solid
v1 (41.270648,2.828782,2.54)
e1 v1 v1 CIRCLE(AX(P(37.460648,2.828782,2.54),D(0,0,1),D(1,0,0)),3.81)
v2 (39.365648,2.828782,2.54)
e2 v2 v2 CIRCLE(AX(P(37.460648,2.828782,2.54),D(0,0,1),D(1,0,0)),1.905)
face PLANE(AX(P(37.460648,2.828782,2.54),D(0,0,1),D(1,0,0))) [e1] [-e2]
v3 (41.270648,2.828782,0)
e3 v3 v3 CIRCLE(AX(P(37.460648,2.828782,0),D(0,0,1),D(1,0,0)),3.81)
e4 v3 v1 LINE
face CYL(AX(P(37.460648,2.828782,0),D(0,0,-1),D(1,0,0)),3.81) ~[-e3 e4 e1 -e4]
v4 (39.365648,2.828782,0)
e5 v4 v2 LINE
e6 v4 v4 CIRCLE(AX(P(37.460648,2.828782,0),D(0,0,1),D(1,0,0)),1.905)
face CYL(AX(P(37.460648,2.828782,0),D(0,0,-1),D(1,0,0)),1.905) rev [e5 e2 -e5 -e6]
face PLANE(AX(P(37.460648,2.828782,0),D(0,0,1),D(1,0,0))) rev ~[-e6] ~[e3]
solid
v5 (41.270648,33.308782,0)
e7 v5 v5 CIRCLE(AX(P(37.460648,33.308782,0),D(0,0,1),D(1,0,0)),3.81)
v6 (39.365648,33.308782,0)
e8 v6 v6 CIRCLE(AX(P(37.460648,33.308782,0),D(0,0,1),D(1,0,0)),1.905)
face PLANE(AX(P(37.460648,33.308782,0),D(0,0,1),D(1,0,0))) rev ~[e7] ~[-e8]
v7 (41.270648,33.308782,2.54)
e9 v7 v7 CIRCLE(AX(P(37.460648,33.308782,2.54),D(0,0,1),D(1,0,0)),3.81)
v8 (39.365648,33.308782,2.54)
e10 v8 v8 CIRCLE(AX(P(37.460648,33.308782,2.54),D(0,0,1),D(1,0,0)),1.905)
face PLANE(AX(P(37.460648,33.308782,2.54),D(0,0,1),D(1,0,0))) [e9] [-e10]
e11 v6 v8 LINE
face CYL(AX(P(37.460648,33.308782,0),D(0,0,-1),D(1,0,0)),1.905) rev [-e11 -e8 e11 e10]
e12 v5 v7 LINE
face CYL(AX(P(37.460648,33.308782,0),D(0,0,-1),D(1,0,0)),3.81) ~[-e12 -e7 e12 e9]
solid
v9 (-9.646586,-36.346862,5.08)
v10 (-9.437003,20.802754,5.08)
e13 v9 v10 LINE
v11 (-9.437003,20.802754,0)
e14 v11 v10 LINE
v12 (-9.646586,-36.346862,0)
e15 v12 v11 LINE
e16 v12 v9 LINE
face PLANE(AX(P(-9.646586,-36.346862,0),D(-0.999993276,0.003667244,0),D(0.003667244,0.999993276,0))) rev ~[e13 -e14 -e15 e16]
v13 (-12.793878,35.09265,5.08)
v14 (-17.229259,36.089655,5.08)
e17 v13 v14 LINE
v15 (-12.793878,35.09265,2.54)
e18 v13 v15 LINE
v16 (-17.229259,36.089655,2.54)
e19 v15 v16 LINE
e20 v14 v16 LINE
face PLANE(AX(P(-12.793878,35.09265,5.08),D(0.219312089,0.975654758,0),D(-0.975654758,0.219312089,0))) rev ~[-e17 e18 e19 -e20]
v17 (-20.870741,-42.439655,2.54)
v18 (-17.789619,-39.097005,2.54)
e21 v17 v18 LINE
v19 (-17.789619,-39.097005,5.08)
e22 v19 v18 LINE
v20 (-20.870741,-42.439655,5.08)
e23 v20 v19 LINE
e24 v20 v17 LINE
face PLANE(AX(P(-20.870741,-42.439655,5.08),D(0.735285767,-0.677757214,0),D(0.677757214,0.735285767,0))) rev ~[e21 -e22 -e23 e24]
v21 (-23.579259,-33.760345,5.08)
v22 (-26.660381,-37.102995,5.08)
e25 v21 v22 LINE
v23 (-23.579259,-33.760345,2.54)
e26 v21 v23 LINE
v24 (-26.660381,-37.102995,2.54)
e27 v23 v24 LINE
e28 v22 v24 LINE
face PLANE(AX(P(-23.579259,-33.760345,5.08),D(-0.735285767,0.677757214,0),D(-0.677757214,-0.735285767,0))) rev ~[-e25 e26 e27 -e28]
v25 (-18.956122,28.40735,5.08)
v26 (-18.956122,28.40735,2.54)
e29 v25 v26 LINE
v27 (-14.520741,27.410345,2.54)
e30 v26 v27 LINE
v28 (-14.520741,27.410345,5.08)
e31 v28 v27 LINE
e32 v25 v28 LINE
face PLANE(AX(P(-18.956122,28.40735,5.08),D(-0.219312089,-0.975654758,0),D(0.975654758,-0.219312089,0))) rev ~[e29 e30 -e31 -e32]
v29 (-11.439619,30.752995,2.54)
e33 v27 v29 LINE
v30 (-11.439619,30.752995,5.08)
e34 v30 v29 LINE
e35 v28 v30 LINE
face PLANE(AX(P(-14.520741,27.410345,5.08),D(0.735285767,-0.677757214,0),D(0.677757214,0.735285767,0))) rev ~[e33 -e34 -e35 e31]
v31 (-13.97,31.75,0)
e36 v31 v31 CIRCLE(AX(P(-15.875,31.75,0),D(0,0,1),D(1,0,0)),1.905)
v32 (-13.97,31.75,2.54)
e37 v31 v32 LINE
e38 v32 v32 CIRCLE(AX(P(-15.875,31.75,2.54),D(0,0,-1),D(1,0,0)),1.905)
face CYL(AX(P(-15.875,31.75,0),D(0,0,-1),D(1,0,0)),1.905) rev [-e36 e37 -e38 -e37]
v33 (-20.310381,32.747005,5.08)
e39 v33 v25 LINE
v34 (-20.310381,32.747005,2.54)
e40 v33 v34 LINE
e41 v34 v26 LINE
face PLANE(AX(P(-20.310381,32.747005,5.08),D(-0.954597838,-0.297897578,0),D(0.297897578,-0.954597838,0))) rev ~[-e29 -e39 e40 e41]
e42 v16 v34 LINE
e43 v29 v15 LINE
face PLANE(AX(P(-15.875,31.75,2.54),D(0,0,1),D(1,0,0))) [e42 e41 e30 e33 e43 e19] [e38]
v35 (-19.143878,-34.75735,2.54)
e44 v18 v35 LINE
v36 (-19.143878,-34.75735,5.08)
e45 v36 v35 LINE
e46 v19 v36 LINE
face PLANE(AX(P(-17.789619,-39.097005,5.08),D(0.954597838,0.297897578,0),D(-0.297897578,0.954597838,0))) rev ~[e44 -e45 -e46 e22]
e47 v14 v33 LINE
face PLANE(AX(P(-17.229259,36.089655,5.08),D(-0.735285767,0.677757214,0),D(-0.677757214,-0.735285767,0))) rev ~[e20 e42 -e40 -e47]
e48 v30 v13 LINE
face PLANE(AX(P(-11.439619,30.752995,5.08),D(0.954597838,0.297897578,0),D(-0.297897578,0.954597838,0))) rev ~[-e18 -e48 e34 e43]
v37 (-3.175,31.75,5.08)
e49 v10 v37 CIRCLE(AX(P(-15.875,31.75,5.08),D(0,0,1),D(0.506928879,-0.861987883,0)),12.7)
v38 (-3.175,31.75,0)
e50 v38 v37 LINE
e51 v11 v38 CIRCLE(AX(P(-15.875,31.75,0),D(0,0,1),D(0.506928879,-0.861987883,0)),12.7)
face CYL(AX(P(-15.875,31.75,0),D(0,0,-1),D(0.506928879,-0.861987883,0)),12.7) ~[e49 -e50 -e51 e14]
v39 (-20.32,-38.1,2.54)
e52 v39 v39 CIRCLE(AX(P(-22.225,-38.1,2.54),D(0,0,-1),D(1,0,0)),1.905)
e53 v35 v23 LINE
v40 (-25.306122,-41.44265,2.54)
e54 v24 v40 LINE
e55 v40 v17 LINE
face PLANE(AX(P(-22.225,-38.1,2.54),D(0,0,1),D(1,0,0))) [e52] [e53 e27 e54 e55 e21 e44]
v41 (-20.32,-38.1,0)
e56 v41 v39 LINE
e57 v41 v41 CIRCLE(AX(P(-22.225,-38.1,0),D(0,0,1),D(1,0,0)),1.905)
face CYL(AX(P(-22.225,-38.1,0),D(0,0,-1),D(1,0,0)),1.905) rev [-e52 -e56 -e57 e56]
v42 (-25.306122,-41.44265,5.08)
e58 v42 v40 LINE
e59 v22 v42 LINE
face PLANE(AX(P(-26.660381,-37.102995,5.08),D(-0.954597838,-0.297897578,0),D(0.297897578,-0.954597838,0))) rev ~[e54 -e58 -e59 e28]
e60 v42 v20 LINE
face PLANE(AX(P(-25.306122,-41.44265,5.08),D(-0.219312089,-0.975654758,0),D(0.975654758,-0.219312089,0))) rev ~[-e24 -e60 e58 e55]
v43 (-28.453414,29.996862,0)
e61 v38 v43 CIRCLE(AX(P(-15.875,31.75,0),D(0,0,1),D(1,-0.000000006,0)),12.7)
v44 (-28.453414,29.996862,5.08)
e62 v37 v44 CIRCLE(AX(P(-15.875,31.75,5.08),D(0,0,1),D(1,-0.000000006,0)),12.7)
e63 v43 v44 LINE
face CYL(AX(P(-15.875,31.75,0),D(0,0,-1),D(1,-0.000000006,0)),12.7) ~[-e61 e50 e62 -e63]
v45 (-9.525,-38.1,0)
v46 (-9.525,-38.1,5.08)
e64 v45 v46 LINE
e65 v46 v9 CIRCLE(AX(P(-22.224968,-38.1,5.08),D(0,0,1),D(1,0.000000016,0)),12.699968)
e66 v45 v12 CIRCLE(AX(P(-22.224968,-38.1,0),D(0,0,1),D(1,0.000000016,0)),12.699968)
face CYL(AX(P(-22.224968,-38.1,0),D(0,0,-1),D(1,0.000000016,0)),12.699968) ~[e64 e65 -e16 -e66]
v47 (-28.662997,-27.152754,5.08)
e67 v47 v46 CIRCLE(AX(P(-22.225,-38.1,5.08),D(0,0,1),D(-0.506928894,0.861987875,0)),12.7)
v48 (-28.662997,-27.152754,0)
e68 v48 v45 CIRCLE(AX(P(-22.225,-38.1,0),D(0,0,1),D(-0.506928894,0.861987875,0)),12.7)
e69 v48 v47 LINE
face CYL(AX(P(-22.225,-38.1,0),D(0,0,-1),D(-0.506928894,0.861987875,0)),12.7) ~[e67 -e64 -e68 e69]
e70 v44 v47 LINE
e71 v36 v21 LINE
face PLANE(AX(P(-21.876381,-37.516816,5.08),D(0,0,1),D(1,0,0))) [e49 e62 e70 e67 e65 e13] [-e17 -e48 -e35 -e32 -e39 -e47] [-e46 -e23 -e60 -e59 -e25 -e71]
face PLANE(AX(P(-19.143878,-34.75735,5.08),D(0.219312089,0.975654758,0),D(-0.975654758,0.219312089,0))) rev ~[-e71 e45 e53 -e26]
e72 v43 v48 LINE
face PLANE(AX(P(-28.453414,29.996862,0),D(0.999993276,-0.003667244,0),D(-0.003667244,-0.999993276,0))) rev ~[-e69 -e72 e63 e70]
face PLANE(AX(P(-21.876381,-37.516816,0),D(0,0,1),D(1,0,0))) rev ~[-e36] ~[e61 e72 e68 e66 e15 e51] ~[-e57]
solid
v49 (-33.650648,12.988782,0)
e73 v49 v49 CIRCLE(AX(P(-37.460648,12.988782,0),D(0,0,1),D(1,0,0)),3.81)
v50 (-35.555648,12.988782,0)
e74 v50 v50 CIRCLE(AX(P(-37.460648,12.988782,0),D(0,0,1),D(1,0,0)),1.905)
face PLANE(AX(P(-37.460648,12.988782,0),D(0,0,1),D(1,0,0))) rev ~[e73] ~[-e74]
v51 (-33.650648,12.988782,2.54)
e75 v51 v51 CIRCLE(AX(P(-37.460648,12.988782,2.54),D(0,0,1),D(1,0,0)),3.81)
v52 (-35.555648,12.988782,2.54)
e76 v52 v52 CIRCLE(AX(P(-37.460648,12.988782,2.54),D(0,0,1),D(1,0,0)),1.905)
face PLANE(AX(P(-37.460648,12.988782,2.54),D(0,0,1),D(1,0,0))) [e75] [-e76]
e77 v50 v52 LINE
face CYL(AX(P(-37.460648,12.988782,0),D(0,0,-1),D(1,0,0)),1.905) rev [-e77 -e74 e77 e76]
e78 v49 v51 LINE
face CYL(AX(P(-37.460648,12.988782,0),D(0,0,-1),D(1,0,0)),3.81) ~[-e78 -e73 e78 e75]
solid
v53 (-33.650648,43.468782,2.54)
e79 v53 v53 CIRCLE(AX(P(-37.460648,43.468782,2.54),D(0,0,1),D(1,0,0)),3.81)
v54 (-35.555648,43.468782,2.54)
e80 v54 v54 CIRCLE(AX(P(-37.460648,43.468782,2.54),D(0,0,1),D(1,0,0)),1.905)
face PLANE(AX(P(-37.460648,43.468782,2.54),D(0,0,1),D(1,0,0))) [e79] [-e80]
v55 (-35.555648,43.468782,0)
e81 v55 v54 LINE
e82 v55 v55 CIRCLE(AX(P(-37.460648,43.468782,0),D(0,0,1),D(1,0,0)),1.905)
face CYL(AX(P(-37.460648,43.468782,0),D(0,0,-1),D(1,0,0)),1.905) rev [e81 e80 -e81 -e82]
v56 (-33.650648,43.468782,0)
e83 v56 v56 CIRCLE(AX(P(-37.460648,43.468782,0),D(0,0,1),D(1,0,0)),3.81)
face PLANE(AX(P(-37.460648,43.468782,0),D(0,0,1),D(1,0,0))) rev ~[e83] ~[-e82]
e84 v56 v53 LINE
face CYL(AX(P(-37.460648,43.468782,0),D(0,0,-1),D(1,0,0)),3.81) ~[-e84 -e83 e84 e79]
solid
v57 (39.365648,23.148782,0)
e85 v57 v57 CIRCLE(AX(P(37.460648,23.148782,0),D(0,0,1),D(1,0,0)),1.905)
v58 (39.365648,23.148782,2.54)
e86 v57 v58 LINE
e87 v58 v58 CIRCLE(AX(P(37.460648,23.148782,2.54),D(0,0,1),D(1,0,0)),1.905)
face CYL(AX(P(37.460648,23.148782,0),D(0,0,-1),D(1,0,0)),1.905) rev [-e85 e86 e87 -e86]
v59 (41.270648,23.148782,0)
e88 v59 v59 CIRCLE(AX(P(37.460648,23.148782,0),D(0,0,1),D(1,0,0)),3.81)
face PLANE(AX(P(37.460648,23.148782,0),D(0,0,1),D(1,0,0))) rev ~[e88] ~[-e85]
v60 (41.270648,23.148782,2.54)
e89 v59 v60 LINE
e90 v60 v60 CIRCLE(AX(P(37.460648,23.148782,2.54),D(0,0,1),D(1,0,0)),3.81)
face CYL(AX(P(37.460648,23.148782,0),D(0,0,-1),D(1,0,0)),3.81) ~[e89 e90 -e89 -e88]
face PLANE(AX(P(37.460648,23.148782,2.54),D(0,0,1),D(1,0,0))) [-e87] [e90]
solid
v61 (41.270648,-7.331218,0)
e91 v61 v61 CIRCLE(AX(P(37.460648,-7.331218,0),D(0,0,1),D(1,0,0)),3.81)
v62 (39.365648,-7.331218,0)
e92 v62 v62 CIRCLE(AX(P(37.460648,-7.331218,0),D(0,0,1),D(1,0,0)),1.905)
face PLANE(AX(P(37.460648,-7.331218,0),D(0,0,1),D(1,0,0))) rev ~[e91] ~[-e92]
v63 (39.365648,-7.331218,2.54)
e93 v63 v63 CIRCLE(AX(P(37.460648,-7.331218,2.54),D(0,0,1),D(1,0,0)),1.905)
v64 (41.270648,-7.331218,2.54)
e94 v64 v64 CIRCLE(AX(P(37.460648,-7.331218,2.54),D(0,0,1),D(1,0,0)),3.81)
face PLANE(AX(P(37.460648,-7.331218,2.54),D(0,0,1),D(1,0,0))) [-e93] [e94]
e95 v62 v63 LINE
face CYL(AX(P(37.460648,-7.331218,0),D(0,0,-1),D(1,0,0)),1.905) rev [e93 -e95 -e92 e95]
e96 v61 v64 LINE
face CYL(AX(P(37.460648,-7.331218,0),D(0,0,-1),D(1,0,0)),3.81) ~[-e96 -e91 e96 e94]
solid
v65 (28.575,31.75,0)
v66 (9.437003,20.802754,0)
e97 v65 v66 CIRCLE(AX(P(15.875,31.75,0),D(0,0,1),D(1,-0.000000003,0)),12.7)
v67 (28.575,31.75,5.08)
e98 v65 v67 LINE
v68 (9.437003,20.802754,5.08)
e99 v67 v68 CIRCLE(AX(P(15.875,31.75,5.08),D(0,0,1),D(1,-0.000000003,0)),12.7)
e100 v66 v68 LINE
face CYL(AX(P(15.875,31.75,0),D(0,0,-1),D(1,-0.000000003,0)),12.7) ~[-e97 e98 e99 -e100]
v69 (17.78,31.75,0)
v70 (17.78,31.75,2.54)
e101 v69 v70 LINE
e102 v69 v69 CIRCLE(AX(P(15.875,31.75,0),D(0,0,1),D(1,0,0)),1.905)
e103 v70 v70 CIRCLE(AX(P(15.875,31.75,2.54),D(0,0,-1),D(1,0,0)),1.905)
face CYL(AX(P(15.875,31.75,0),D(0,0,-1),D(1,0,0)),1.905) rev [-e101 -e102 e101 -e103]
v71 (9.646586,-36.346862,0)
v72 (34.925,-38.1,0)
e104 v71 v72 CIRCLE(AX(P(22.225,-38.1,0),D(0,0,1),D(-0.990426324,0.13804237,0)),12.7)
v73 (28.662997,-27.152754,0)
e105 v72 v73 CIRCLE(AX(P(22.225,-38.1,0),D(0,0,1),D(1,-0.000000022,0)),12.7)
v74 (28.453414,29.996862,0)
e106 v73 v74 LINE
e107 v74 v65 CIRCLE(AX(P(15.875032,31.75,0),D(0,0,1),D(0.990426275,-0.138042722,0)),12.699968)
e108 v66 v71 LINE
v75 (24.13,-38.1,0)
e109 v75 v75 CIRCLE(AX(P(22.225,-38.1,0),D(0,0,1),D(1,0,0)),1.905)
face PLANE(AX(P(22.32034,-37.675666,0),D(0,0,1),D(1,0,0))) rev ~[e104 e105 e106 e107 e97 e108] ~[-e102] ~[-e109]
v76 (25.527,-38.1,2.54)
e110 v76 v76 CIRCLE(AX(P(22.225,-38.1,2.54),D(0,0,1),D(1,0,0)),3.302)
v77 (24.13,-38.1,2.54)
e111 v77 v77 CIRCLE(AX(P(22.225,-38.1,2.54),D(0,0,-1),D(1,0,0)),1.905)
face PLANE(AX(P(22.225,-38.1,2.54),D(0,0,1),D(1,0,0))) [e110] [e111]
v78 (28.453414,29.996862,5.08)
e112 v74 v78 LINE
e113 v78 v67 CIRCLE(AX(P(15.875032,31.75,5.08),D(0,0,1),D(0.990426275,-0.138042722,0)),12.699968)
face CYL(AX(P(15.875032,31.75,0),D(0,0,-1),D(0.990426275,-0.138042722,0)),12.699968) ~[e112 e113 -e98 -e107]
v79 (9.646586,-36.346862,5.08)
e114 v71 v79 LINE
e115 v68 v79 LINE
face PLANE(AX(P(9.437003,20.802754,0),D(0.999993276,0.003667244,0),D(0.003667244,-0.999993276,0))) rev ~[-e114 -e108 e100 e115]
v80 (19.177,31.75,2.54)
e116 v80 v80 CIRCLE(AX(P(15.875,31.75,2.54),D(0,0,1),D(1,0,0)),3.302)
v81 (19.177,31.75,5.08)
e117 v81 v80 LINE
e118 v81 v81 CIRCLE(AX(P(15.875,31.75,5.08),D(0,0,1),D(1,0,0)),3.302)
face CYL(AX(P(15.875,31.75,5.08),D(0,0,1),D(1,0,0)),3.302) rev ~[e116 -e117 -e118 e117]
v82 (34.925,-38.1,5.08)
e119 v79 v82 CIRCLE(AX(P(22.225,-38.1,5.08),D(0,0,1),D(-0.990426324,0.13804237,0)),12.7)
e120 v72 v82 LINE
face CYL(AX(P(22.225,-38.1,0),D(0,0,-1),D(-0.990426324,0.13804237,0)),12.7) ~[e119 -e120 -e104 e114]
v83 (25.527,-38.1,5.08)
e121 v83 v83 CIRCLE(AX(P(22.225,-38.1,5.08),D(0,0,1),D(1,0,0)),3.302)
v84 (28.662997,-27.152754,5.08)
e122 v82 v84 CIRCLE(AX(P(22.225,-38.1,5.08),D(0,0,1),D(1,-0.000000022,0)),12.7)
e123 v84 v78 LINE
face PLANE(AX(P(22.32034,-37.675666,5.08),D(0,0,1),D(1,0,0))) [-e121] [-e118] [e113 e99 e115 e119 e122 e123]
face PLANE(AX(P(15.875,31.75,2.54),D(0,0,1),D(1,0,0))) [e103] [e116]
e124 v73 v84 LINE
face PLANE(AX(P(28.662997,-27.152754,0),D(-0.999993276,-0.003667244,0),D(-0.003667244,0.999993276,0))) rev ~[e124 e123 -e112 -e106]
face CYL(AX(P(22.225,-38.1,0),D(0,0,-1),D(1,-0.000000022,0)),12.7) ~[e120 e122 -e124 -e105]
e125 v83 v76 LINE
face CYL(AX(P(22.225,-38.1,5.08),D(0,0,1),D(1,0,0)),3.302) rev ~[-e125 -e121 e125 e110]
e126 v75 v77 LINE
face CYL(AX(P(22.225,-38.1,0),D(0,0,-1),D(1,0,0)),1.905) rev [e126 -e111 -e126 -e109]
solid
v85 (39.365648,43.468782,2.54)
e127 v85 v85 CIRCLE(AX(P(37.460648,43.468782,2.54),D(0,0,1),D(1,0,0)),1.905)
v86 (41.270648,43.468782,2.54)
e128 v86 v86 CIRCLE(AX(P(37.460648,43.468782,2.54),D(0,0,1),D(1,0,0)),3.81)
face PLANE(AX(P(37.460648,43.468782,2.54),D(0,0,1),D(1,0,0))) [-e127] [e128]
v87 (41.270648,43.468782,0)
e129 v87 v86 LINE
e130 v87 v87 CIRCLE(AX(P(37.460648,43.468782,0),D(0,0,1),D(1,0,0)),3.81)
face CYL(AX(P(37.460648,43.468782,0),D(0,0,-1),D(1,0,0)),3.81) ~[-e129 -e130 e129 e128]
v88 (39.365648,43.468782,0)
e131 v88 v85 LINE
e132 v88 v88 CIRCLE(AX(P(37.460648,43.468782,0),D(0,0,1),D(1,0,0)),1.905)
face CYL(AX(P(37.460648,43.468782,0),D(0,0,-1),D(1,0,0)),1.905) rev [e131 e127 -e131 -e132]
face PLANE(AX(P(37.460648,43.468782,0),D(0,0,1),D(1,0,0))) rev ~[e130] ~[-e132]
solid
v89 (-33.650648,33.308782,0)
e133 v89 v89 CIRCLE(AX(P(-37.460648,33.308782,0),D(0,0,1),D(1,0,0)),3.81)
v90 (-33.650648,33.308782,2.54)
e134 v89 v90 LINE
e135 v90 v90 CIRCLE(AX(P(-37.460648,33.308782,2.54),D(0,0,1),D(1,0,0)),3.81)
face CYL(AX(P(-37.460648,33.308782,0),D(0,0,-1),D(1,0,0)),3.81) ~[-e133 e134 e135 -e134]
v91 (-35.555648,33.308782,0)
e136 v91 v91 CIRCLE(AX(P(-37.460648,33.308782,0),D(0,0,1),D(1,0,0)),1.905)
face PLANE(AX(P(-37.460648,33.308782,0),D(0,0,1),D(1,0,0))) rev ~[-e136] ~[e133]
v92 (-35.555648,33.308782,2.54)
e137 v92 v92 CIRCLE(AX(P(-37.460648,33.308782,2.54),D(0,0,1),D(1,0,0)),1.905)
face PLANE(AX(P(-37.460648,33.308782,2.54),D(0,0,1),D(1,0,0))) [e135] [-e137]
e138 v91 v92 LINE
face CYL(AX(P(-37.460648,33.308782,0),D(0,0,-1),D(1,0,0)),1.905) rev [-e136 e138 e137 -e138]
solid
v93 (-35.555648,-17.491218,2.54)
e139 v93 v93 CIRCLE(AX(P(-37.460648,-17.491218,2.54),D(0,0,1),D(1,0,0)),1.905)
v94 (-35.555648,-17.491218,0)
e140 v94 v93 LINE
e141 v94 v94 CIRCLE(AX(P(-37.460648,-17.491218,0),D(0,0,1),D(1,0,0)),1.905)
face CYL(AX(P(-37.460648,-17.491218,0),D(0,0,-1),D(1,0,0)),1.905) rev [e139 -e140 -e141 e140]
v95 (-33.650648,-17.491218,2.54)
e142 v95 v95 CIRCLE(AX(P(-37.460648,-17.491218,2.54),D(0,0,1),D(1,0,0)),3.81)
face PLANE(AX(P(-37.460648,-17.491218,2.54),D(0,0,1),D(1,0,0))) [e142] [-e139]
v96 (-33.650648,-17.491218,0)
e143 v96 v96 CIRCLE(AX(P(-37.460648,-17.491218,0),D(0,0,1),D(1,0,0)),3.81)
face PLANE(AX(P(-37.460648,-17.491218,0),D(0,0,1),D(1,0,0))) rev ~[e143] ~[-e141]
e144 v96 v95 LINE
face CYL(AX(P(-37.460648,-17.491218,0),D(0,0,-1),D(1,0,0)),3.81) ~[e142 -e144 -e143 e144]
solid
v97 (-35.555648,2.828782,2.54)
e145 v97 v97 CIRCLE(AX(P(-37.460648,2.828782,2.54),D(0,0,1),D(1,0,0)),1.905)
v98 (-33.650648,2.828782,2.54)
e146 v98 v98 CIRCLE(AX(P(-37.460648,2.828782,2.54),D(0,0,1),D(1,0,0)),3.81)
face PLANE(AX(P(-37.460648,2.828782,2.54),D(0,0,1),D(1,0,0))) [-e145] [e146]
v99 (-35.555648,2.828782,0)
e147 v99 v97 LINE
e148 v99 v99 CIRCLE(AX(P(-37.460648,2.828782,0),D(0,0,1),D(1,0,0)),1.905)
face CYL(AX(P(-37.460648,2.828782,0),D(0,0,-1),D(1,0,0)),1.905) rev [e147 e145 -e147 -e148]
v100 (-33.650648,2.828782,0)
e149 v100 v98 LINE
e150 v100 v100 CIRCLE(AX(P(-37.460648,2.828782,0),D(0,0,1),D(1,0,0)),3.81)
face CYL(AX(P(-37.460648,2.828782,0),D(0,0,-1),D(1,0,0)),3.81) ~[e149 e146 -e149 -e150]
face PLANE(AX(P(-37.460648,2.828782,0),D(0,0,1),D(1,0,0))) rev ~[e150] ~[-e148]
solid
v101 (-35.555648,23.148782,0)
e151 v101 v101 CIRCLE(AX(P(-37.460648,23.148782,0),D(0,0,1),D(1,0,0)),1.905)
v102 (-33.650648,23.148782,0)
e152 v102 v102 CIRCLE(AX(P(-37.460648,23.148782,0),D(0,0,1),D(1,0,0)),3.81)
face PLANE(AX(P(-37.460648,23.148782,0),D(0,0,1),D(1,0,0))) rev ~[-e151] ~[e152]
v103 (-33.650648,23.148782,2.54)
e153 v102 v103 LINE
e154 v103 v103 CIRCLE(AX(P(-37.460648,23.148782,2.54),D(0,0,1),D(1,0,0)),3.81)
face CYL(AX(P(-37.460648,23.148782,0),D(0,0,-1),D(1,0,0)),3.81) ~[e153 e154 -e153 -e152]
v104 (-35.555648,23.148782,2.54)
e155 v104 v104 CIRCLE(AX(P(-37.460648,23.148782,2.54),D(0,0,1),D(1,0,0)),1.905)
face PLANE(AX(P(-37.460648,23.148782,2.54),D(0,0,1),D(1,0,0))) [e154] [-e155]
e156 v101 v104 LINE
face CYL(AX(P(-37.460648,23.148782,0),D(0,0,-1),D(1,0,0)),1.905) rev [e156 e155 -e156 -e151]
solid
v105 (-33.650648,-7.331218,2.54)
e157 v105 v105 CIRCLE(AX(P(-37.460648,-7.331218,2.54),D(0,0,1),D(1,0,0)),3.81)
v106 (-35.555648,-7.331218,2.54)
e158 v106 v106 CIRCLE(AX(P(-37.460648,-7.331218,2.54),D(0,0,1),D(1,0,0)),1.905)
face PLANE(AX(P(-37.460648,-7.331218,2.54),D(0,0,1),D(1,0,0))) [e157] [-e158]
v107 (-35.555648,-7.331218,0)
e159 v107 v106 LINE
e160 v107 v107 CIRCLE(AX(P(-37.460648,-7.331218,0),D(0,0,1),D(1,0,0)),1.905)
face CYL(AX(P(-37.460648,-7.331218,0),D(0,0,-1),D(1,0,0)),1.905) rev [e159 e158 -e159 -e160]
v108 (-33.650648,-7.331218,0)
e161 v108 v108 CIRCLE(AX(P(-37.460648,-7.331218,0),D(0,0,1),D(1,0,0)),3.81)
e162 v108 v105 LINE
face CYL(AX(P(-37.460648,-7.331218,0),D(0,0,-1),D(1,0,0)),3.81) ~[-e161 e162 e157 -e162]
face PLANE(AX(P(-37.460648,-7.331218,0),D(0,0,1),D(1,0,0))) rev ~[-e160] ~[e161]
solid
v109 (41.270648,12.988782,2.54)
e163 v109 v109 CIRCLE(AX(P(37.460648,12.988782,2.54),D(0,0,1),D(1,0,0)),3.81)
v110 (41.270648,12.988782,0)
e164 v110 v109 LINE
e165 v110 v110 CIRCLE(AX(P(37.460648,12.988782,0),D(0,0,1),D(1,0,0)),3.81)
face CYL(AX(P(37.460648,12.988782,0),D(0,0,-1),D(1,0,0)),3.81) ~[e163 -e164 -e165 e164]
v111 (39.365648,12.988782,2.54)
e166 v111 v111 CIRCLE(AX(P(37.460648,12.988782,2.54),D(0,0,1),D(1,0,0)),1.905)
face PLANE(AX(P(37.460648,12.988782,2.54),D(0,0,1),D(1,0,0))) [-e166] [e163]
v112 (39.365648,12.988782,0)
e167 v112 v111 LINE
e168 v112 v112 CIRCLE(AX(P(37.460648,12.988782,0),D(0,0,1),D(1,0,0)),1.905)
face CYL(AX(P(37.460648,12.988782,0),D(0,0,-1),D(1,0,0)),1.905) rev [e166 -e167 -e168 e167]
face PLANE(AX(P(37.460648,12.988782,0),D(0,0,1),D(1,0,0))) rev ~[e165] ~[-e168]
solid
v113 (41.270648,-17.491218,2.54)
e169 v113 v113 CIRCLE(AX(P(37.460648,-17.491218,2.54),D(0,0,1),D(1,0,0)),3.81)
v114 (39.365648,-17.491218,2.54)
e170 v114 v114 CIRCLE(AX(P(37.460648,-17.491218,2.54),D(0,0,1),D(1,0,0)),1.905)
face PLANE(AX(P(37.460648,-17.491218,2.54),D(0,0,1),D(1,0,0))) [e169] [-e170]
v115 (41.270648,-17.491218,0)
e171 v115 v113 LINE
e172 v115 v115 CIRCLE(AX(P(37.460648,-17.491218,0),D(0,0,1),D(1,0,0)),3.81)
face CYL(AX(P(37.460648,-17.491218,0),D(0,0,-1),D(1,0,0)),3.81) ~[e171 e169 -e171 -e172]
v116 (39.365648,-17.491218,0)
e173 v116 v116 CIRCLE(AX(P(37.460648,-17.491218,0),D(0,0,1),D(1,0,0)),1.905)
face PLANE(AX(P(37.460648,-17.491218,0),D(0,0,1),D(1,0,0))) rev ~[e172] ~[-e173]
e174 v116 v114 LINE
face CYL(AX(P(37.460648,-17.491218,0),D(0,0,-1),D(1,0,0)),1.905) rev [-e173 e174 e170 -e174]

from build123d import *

# Parameters (mm, degrees)
F0_R     = 1.905
F1_DEPTH = 5.08
F3_DEPTH = 2.54
F4_R     = 3.302
F5_DEPTH = 2.54
F6_R     = 3.81
F6_R_2   = 1.905
F7_DEPTH = 2.54


with BuildPart() as f1:
    # F0 (on Top) → F1 (new body)
    with BuildSketch(Plane.XY):
        with BuildLine():
            ThreePointArc((-28.662997, -27.152754), (-28.530848, -49.123896), (-9.525, -38.1))
            ThreePointArc((-9.525, -38.1), (-9.555433, -37.221325), (-9.646586, -36.346862))
            ThreePointArc((-9.646586, -36.346862), (-16.696972, -26.666238), (-28.662997, -27.152754))
        make_face()
        with Locations((-22.225, -38.1)):
            Circle(F0_R, mode=Mode.SUBTRACT)
        with BuildLine():
            ThreePointArc((-28.662997, -27.152754), (-16.696972, -26.666238), (-9.646586, -36.346862))
            Line((-9.646586, -36.346862), (-9.437003, 20.802754))
            ThreePointArc((-9.437003, 20.802754), (-21.403028, 20.316238), (-28.453414, 29.996862))
            Line((-28.453414, 29.996862), (-28.662997, -27.152754))
        make_face()
        with BuildLine():
            ThreePointArc((-28.453414, 29.996862), (-21.403028, 20.316238), (-9.437003, 20.802754))
            ThreePointArc((-9.437003, 20.802754), (-4.851104, 25.444152), (-3.175, 31.75))
            ThreePointArc((-3.175, 31.75), (-16.753675, 44.419567), (-28.453414, 29.996862))
        make_face()
        with Locations((-15.875, 31.75)):
            Circle(F0_R, mode=Mode.SUBTRACT)
        with BuildLine():
            ThreePointArc((9.646586, -36.346862), (21.346325, -50.769567), (34.925, -38.1))
            ThreePointArc((34.925, -38.1), (33.248896, -31.794152), (28.662997, -27.152754))
            ThreePointArc((28.662997, -27.152754), (16.696972, -26.666238), (9.646586, -36.346862))
        make_face()
        with Locations((22.225, -38.1)):
            Circle(F0_R, mode=Mode.SUBTRACT)
        with BuildLine():
            ThreePointArc((9.646586, -36.346862), (16.696972, -26.666238), (28.662997, -27.152754))
            Line((28.662997, -27.152754), (28.453414, 29.996862))
            ThreePointArc((28.453414, 29.996862), (21.403028, 20.316238), (9.437003, 20.802754))
            Line((9.437003, 20.802754), (9.646586, -36.346862))
        make_face()
        with BuildLine():
            ThreePointArc((9.437003, 20.802754), (21.403028, 20.316238), (28.453414, 29.996862))
            ThreePointArc((28.453414, 29.996862), (28.544567, 30.871325), (28.575, 31.75))
            ThreePointArc((28.575, 31.75), (9.569152, 42.773896), (9.437003, 20.802754))
        make_face()
        with Locations((15.875, 31.75)):
            Circle(F0_R, mode=Mode.SUBTRACT)
    extrude(amount=F1_DEPTH)

    # F2 (on face) → F3 (cut)
    with BuildSketch(Plane.XY.offset(5.08)):
        Polygon((-14.520741, 27.410345), (-11.439619, 30.752995), (-12.793878, 35.09265), (-17.229259, 36.089655), (-20.310381, 32.747005), (-18.956122, 28.40735), align=None)
        Polygon((-20.870741, -42.439655), (-17.789619, -39.097005), (-19.143878, -34.75735), (-23.579259, -33.760345), (-26.660381, -37.102995), (-25.306122, -41.44265), align=None)
    extrude(amount=-F3_DEPTH, mode=Mode.SUBTRACT)

    # F4 (on face) → F5 (cut)
    with BuildSketch(Plane.XY.offset(5.08)):
        with Locations((15.875, 31.75)):
            Circle(F4_R)
        with Locations((22.225, -38.1)):
            Circle(F4_R)
    extrude(amount=-F5_DEPTH, mode=Mode.SUBTRACT)


with BuildPart() as f7:
    # F6 (on Top) → F7 (new body)
    with BuildSketch(Plane.XY):
        with Locations((37.460648, 43.468782)):
            Circle(F6_R)
        with Locations((37.460648, 43.468782)):
            Circle(F6_R_2, mode=Mode.SUBTRACT)
        with Locations((37.460648, 33.308782)):
            Circle(F6_R)
        with Locations((37.460648, 33.308782)):
            Circle(F6_R_2, mode=Mode.SUBTRACT)
        with Locations((37.460648, 23.148782)):
            Circle(F6_R)
        with Locations((37.460648, 23.148782)):
            Circle(F6_R_2, mode=Mode.SUBTRACT)
        with Locations((37.460648, 12.988782)):
            Circle(F6_R)
        with Locations((37.460648, 12.988782)):
            Circle(F6_R_2, mode=Mode.SUBTRACT)
        with Locations((37.460648, 2.828782)):
            Circle(F6_R)
        with Locations((37.460648, 2.828782)):
            Circle(F6_R_2, mode=Mode.SUBTRACT)
        with Locations((37.460648, -7.331218)):
            Circle(F6_R)
        with Locations((37.460648, -7.331218)):
            Circle(F6_R_2, mode=Mode.SUBTRACT)
        with Locations((37.460648, -17.491218)):
            Circle(F6_R)
        with Locations((37.460648, -17.491218)):
            Circle(F6_R_2, mode=Mode.SUBTRACT)
        with Locations((-37.460648, -17.491218)):
            Circle(F6_R)
        with Locations((-37.460648, -17.491218)):
            Circle(F6_R_2, mode=Mode.SUBTRACT)
        with Locations((-37.460648, 43.468782)):
            Circle(F6_R)
        with Locations((-37.460648, 43.468782)):
            Circle(F6_R_2, mode=Mode.SUBTRACT)
        with Locations((-37.460648, -7.331218)):
            Circle(F6_R)
        with Locations((-37.460648, -7.331218)):
            Circle(F6_R_2, mode=Mode.SUBTRACT)
        with Locations((-37.460648, 2.828782)):
            Circle(F6_R)
        with Locations((-37.460648, 2.828782)):
            Circle(F6_R_2, mode=Mode.SUBTRACT)
        with Locations((-37.460648, 33.308782)):
            Circle(F6_R)
        with Locations((-37.460648, 33.308782)):
            Circle(F6_R_2, mode=Mode.SUBTRACT)
        with Locations((-37.460648, 23.148782)):
            Circle(F6_R)
        with Locations((-37.460648, 23.148782)):
            Circle(F6_R_2, mode=Mode.SUBTRACT)
        with Locations((-37.460648, 12.988782)):
            Circle(F6_R)
        with Locations((-37.460648, 12.988782)):
            Circle(F6_R_2, mode=Mode.SUBTRACT)
    extrude(amount=F7_DEPTH)


solid = Compound([f1.part, f7.part])
